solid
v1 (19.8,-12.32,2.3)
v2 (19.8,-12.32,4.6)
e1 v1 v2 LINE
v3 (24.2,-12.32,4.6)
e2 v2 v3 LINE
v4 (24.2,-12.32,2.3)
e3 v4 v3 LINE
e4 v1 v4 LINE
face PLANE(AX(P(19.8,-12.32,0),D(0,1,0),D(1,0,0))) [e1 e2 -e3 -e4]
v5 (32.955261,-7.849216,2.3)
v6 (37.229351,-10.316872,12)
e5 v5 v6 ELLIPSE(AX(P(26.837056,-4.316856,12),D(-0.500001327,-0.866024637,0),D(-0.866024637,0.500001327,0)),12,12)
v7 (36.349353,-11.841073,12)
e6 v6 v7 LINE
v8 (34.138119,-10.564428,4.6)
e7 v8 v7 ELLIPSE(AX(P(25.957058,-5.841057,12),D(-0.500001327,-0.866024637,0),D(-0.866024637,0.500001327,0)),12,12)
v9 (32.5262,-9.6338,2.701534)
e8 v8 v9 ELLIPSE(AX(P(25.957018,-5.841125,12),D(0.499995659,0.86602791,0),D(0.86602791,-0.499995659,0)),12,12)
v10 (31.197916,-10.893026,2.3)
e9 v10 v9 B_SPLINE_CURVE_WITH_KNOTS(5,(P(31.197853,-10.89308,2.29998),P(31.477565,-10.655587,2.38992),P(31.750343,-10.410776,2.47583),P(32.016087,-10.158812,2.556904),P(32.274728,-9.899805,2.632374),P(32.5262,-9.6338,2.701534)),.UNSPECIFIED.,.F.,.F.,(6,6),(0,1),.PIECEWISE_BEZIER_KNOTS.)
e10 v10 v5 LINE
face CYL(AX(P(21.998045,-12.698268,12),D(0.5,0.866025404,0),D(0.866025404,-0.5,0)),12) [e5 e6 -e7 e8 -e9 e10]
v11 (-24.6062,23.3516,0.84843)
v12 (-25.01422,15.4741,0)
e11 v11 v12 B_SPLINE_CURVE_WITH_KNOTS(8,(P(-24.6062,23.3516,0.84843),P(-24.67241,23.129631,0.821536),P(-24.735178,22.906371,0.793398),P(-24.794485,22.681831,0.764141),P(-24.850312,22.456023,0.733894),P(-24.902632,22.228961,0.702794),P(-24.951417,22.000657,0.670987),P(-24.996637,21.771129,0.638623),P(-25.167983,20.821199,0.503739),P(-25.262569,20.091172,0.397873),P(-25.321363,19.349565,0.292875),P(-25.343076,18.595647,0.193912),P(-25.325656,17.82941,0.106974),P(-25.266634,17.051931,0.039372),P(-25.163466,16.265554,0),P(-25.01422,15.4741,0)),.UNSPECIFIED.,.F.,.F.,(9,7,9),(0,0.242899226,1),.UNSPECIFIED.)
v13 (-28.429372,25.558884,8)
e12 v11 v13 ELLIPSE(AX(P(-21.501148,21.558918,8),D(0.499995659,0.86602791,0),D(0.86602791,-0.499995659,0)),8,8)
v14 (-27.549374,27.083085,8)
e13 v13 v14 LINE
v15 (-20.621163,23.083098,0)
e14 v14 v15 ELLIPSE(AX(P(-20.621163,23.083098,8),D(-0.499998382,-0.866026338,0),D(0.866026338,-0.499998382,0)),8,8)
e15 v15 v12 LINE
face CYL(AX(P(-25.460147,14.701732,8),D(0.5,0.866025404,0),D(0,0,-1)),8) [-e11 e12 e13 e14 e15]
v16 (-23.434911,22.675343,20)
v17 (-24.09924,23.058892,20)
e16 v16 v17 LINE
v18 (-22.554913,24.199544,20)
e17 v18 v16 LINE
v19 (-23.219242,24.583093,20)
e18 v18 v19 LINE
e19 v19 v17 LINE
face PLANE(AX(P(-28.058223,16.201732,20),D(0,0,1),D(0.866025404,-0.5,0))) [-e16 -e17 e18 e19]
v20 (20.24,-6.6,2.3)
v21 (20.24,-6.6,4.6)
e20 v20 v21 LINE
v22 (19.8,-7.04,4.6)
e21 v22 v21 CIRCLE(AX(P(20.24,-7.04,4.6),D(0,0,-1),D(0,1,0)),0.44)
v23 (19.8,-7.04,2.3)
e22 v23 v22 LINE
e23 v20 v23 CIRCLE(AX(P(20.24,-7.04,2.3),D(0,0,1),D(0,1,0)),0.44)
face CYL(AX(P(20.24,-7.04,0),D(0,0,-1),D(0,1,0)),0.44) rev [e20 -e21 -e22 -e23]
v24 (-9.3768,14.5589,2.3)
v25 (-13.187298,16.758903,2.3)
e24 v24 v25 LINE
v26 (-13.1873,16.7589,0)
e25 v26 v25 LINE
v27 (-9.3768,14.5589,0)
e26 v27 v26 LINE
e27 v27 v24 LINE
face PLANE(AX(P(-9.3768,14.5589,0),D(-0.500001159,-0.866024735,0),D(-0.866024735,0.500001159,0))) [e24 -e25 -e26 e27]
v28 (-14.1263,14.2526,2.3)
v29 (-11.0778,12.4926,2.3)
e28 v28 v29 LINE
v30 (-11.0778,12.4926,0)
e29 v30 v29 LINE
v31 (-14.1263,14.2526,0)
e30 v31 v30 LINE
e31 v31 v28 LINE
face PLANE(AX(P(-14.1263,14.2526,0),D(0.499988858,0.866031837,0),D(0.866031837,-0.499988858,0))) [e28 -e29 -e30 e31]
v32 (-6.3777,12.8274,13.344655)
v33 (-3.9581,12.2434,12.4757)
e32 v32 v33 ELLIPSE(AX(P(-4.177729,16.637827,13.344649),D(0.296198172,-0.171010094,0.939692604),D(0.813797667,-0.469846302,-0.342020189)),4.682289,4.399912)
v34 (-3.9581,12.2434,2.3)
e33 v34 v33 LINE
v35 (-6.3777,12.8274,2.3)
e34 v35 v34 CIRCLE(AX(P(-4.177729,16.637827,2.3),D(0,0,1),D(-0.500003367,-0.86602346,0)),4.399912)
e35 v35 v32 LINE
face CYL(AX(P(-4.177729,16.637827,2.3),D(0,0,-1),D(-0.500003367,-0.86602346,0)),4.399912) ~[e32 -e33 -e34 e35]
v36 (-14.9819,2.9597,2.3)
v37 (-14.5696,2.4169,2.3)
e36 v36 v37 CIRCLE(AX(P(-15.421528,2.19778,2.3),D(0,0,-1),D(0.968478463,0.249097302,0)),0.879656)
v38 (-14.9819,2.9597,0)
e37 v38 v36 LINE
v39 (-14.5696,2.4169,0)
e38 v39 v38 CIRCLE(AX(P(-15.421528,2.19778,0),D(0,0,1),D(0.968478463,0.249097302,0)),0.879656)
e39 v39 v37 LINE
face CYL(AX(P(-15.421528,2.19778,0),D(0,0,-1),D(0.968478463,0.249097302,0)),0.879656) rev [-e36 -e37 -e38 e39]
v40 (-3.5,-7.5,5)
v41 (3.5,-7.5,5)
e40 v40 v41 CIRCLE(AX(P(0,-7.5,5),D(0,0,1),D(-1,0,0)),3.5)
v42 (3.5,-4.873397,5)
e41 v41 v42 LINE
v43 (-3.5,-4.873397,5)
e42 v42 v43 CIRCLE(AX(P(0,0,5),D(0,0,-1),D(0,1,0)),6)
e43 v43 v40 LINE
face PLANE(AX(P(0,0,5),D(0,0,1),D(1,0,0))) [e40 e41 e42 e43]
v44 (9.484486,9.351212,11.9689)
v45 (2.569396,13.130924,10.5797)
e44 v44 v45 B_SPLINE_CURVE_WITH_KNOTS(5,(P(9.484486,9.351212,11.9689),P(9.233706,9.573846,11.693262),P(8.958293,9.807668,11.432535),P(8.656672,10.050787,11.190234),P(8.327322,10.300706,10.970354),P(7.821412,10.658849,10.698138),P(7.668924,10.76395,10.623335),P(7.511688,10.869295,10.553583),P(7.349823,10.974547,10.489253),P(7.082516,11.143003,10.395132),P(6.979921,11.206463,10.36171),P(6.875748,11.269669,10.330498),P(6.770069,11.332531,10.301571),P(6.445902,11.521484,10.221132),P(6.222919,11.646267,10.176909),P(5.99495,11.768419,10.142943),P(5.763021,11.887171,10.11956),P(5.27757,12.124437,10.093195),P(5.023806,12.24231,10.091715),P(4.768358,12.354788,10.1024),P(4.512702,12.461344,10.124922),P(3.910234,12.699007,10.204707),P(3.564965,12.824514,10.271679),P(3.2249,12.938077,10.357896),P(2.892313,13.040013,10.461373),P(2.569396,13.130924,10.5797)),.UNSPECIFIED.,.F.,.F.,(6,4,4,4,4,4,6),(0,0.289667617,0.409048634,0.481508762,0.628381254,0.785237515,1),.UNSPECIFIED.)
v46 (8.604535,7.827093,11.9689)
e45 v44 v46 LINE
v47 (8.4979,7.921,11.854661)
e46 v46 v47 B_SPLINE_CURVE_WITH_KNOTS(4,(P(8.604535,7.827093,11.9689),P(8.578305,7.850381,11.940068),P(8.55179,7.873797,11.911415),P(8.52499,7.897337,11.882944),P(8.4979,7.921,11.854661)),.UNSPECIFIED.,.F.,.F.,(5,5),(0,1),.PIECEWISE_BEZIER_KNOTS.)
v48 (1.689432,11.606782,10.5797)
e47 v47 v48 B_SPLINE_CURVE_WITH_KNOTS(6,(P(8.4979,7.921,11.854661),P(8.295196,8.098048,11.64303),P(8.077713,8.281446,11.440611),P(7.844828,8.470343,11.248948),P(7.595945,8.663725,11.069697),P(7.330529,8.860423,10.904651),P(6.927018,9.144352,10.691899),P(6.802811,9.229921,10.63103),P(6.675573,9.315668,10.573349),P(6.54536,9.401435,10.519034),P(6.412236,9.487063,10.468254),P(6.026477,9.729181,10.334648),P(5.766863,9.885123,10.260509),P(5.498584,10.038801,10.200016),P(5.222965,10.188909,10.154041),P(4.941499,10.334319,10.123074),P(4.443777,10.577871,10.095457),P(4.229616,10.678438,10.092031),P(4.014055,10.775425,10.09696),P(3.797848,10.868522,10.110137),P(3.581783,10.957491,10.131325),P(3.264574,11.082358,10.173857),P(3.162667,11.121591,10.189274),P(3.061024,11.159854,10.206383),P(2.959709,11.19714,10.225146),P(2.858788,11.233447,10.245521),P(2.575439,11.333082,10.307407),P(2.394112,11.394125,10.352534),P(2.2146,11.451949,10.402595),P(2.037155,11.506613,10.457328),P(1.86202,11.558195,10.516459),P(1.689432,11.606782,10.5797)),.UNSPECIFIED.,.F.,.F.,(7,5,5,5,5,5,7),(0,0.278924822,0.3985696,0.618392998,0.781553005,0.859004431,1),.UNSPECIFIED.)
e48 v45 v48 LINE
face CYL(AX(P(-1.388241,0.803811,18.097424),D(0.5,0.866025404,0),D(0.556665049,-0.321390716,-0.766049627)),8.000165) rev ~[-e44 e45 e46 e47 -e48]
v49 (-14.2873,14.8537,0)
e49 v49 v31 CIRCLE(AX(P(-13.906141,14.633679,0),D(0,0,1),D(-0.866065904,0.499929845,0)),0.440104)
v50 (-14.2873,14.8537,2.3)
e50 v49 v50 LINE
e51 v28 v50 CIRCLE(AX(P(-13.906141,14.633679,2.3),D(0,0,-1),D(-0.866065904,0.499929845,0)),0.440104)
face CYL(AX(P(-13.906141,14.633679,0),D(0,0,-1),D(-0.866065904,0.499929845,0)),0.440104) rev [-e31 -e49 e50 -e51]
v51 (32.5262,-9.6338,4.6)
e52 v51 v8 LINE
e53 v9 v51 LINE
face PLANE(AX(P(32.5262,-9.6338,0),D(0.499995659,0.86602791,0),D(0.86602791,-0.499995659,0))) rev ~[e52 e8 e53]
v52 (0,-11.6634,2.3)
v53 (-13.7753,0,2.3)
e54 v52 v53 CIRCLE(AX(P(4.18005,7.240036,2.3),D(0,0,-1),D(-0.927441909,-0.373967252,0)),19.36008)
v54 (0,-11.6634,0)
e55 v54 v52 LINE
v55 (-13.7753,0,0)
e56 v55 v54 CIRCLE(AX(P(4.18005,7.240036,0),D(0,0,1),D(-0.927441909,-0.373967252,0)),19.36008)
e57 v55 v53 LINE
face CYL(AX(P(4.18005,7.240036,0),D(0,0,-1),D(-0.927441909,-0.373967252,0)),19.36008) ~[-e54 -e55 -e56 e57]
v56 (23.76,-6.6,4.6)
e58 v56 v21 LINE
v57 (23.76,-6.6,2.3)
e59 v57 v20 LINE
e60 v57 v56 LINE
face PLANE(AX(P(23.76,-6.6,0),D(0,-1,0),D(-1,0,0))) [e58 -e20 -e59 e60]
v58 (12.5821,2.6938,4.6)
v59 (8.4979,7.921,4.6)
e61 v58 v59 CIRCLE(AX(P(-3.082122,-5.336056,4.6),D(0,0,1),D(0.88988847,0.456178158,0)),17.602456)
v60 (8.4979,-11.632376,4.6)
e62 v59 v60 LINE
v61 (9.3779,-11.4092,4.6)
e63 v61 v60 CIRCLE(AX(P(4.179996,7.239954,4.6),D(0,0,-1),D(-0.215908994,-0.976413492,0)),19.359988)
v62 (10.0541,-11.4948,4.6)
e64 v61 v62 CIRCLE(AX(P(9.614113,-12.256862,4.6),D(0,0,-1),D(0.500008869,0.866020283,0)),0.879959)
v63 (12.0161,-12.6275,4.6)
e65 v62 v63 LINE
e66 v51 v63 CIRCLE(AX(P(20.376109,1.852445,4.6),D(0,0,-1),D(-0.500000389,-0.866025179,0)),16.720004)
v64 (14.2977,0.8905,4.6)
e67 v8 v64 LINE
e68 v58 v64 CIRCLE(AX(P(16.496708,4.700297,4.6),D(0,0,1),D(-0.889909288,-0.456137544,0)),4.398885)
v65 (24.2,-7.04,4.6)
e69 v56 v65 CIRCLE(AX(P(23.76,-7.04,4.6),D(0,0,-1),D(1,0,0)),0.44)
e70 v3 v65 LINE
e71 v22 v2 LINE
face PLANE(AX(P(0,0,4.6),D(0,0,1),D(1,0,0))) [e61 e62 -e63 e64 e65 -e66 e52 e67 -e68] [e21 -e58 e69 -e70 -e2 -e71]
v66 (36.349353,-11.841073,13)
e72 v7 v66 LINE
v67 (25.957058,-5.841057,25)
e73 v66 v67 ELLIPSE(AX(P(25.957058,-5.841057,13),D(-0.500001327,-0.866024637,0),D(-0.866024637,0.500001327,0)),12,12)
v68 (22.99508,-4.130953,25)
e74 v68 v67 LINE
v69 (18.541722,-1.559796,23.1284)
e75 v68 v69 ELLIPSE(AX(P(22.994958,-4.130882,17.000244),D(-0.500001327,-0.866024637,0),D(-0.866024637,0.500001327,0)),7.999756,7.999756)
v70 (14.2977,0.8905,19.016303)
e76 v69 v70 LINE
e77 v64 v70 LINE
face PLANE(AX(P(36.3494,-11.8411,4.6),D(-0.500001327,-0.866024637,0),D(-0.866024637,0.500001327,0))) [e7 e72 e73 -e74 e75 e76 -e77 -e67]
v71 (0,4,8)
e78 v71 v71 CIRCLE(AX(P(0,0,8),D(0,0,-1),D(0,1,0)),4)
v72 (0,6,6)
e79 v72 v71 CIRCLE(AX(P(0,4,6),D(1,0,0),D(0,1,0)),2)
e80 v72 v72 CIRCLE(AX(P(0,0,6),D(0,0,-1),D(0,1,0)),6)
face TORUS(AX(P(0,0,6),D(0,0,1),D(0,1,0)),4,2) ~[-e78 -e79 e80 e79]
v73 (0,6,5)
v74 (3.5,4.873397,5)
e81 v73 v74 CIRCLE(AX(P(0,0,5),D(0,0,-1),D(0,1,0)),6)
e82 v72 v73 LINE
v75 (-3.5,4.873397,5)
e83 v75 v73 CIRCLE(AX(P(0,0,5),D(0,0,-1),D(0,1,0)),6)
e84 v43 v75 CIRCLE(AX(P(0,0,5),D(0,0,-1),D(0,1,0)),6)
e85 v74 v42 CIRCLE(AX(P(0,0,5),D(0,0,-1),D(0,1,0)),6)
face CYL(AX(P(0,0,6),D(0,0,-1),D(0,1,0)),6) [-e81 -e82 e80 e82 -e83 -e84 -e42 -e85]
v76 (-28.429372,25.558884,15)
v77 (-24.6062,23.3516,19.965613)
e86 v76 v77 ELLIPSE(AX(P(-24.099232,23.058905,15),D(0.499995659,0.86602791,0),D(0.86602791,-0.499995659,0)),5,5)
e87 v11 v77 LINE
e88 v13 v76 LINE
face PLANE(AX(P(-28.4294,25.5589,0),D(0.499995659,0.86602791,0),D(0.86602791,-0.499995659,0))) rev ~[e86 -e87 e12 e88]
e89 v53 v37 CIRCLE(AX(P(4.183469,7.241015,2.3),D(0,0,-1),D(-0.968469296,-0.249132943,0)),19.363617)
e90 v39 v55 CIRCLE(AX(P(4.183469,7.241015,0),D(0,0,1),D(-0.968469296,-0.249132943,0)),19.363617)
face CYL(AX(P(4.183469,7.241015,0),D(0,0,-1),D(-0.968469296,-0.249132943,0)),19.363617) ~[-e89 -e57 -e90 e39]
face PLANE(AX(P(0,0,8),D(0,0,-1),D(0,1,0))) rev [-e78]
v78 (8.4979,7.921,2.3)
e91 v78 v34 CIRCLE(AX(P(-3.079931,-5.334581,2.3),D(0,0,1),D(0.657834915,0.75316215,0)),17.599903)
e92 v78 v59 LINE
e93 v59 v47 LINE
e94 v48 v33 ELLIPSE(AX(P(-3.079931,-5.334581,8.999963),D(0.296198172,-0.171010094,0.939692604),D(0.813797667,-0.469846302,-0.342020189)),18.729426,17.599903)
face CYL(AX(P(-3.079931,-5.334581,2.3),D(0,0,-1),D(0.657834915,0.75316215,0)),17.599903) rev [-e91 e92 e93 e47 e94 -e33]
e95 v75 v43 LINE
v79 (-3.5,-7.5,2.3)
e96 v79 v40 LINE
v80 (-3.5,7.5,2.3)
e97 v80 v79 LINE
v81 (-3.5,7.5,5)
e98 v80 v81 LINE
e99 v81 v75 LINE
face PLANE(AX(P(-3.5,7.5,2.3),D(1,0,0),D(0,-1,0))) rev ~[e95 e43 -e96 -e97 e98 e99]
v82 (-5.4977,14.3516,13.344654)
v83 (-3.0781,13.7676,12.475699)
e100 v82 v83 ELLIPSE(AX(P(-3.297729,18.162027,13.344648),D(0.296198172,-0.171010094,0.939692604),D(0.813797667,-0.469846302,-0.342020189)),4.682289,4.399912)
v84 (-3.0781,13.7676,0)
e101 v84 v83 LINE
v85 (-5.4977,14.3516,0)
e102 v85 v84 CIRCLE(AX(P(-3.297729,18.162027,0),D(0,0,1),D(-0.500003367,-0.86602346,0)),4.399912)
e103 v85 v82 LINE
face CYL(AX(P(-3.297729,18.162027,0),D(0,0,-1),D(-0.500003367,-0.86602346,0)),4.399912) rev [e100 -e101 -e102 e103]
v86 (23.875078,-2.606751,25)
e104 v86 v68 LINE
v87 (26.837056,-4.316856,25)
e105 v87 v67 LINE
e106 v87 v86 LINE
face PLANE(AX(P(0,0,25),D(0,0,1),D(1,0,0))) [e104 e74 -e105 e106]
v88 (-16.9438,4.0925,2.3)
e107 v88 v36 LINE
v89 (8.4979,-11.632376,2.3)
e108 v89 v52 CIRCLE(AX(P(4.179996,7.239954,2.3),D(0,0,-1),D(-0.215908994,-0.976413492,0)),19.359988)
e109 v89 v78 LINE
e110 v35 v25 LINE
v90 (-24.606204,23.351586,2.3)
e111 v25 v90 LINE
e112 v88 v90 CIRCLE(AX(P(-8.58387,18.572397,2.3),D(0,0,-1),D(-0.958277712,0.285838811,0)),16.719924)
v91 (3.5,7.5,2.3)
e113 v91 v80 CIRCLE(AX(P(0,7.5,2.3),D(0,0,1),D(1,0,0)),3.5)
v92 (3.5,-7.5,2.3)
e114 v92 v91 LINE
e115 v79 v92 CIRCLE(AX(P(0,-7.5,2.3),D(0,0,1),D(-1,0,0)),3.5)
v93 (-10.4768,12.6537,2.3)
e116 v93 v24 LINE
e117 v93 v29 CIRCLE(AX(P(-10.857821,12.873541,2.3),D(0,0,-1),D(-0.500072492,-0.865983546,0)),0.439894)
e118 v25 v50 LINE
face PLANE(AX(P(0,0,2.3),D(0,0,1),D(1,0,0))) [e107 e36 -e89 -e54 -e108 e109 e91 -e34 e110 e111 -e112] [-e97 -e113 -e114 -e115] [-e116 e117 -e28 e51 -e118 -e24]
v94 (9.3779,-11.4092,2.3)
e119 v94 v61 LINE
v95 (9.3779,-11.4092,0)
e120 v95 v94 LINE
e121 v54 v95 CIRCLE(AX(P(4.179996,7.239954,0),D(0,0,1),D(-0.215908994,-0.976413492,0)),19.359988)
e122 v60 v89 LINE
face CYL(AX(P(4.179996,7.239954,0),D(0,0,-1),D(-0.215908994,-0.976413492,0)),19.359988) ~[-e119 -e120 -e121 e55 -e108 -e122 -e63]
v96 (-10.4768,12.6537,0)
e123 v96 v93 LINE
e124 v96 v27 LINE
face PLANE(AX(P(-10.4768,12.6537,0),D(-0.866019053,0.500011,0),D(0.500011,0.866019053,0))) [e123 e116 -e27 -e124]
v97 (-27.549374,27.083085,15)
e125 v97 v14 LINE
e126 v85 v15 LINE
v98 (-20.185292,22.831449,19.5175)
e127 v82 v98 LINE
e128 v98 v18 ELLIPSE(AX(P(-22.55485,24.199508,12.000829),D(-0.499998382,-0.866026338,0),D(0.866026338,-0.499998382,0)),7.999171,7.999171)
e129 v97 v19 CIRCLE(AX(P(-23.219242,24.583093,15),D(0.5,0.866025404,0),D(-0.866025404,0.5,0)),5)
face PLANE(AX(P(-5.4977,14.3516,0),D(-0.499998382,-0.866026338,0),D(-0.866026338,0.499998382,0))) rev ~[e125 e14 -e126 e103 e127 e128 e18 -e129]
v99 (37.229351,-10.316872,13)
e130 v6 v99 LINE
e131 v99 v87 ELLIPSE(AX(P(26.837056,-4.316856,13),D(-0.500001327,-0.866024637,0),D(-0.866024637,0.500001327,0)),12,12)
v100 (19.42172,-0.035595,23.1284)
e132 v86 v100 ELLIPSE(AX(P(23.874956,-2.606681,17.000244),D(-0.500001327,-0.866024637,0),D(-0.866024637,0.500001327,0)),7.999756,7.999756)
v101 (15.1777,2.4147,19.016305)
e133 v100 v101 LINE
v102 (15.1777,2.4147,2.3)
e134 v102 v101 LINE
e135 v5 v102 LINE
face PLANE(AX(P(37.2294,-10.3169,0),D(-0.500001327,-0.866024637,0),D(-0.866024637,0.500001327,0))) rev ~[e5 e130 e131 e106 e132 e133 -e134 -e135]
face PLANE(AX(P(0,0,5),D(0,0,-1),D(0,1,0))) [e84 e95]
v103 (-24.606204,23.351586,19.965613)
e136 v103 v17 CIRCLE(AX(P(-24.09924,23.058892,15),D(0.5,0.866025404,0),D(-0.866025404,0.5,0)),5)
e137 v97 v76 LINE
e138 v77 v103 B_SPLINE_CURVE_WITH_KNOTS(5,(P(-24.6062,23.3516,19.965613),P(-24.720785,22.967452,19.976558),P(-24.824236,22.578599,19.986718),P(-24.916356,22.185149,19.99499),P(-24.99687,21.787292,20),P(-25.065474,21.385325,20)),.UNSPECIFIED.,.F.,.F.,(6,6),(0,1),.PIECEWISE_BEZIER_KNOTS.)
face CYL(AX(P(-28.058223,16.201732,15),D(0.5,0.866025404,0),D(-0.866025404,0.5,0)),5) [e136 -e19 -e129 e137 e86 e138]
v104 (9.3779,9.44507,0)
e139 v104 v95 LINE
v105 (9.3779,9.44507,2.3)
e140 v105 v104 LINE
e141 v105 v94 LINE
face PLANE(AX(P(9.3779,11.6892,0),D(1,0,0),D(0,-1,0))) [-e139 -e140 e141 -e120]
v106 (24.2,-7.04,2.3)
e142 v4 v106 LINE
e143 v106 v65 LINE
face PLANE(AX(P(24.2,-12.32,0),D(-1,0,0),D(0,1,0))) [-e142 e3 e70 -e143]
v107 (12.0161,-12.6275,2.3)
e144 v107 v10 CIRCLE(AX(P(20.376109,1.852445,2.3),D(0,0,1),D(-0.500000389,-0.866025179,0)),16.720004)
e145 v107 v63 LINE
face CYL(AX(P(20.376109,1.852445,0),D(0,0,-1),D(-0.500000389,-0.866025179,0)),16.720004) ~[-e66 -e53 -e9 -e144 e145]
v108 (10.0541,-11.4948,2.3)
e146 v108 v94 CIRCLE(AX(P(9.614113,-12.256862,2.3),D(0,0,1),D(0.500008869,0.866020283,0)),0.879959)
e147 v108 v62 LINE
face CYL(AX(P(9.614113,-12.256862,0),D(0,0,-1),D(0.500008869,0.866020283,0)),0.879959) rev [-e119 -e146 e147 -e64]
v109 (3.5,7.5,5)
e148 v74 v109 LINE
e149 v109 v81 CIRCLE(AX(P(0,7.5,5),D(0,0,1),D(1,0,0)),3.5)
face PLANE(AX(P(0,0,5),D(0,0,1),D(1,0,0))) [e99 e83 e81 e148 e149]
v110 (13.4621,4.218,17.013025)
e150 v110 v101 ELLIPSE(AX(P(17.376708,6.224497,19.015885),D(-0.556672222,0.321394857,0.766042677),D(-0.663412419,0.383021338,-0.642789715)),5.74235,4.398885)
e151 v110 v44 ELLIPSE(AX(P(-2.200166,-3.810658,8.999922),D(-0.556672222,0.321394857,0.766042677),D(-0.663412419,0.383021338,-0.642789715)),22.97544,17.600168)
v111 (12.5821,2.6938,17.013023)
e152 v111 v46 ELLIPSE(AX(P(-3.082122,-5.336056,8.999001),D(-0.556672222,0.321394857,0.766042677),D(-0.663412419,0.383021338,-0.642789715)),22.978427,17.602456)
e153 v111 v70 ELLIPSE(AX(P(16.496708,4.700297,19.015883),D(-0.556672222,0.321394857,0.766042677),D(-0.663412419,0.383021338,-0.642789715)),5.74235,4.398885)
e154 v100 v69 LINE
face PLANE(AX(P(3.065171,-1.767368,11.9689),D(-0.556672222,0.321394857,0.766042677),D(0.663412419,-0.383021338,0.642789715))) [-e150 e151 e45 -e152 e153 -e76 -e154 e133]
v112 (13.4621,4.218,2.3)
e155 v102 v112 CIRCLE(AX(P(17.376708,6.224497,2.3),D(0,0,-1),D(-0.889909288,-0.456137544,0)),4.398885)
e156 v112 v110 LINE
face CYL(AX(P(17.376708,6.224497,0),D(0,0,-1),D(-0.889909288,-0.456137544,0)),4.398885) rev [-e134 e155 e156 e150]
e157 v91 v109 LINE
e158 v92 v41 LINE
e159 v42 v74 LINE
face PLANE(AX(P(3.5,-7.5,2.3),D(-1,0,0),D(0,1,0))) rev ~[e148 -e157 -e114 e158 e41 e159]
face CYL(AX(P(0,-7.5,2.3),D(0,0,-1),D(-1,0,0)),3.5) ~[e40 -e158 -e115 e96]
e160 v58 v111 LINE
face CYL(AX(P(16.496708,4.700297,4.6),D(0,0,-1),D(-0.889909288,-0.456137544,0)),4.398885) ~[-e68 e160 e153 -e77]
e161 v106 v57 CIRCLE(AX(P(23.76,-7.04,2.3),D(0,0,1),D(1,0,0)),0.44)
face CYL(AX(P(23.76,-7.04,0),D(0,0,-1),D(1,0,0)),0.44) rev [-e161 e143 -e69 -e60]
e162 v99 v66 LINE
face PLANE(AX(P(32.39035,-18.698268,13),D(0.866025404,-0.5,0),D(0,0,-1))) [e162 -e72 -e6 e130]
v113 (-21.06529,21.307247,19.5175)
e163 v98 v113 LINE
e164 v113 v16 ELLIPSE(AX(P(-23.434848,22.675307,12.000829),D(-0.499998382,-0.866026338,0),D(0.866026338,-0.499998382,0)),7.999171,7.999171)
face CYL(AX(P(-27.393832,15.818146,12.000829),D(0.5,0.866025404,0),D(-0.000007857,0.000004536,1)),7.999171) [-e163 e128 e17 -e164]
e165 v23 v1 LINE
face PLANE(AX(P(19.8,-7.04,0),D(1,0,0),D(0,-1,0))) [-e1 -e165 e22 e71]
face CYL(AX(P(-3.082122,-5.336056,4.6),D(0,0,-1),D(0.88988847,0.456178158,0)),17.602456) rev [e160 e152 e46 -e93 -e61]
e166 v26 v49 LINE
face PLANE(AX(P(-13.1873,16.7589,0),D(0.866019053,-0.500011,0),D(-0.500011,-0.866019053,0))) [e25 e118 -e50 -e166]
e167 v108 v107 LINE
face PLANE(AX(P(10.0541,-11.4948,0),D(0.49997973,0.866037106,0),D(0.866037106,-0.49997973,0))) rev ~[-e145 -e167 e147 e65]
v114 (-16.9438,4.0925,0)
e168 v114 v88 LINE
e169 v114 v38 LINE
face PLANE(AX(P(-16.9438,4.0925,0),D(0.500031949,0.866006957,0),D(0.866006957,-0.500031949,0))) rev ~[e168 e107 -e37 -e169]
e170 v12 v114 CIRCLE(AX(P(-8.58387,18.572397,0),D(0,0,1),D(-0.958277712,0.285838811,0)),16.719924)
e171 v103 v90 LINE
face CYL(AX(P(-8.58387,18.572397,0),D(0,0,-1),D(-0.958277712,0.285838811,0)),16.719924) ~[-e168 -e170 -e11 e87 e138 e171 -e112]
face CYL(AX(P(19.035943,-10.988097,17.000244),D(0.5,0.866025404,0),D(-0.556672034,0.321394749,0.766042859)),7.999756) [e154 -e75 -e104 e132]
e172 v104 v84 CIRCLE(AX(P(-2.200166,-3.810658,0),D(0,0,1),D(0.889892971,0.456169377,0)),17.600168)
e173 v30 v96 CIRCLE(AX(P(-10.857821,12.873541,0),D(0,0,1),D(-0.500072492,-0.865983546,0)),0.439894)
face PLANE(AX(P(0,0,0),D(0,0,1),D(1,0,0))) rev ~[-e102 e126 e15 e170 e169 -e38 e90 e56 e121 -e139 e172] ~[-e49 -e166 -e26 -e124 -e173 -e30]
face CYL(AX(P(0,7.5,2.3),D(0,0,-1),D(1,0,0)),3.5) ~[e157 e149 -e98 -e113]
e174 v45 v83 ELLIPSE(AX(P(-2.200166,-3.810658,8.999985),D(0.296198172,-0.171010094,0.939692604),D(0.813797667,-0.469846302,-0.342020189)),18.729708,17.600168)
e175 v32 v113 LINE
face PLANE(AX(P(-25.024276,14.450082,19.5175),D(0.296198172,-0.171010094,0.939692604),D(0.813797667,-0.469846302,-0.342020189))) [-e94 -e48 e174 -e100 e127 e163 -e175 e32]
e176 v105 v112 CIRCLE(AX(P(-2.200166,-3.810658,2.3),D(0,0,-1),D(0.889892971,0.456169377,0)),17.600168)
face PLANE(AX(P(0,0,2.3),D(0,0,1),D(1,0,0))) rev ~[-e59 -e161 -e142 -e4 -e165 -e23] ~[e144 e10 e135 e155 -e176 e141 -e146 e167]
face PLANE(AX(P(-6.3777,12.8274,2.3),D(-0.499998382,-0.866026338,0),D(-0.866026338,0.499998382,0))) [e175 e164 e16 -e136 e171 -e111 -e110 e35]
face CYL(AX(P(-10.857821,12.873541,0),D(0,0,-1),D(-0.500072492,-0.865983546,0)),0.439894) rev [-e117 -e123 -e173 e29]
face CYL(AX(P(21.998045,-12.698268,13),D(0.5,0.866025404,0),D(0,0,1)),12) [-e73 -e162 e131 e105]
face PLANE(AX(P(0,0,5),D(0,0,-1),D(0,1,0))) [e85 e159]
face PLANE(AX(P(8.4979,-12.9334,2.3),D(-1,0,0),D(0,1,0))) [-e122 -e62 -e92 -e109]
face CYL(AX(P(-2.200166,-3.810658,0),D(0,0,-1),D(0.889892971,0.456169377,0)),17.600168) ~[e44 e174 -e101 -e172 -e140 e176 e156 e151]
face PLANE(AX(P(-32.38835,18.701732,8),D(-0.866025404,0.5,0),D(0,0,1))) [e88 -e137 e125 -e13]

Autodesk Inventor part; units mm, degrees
sketch "Sketch_1" plane through (0, 0, 0) normal (0, 0, 1) x (1, 0, 0)
  line L0 (-28.4294, 25.5589) -> (-24.6062, 23.3516)
  arc A0 (-24.6062, 23.3516) -> (-16.9438, 4.0925) centre (-8.5838, 18.5724) ccw
  line L1 (-16.9438, 4.0925) -> (-14.9819, 2.9597)
  arc A1 (-14.5696, 2.4169) -> (-14.9819, 2.9597) centre (-15.4219, 2.1976) ccw
  arc A2 (-14.5696, 2.4169) -> (-13.7753, 0) centre (4.18, 7.24) ccw
  arc A3 (-13.7753, 0) -> (0, -11.6634) centre (4.18, 7.24) ccw
  arc A4 (0, -11.6634) -> (9.3779, -11.4092) centre (4.18, 7.24) ccw
  arc A5 (10.0541, -11.4948) -> (9.3779, -11.4092) centre (9.6141, -12.2569) ccw
  line L2 (10.0541, -11.4948) -> (12.0161, -12.6275)
  arc A6 (12.0161, -12.6275) -> (32.5262, -9.6338) centre (20.3761, 1.8524) ccw
  line L3 (32.5262, -9.6338) -> (36.3494, -11.8411)
  line L4 (36.3494, -11.8411) -> (37.2294, -10.3169)
  line L5 (37.2294, -10.3169) -> (15.1777, 2.4147)
  arc A7 (13.4621, 4.218) -> (15.1777, 2.4147) centre (17.3777, 6.2252) ccw
  arc A8 (13.4621, 4.218) -> (-3.0781, 13.7676) centre (-2.2, -3.8105) ccw
  arc A9 (-5.4977, 14.3516) -> (-3.0781, 13.7676) centre (-3.2977, 18.1621) ccw
  line L6 (-5.4977, 14.3516) -> (-27.5494, 27.0831)
  line L7 (-27.5494, 27.0831) -> (-28.4294, 25.5589)
  line L8 (19.8, -12.32) -> (24.2, -12.32)
  line L9 (24.2, -12.32) -> (24.2, -7.04)
  arc A10 (24.2, -7.04) -> (23.76, -6.6) centre (23.76, -7.04) ccw
  line L10 (23.76, -6.6) -> (20.24, -6.6)
  arc A11 (20.24, -6.6) -> (19.8, -7.04) centre (20.24, -7.04) ccw
  line L11 (19.8, -7.04) -> (19.8, -12.32)
  arc A12 (-14.2873, 14.8537) -> (-14.1263, 14.2526) centre (-13.9063, 14.6337) ccw
  line L12 (-14.1263, 14.2526) -> (-11.0778, 12.4926)
  arc A13 (-11.0778, 12.4926) -> (-10.4768, 12.6537) centre (-10.8578, 12.8737) ccw
  line L13 (-10.4768, 12.6537) -> (-9.3768, 14.5589)
  line L14 (-9.3768, 14.5589) -> (-13.1873, 16.7589)
  line L15 (-13.1873, 16.7589) -> (-14.2873, 14.8537)
extrude "Extrusion1" add sketch "Sketch_1" along normal blind 25
sketch "Sketch_2" plane through (0, 0, 2.3) normal (0, 0, 1) x (1, 0, 0)
  line L0 (-29.3094, 24.0347) -> (-25.4862, 21.8274)
  arc A0 (-25.4862, 21.8274) -> (-17.8238, 2.5683) centre (-9.4638, 17.0482) ccw
  line L1 (-17.8238, 2.5683) -> (-15.8619, 1.4355)
  arc A1 (-15.4496, 0.8927) -> (-15.8619, 1.4355) centre (-16.3019, 0.6734) ccw
  arc A2 (-15.4496, 0.8927) -> (-14.6553, -1.5242) centre (3.3, 5.7158) ccw
  arc A3 (-14.6553, -1.5242) -> (-0.88, -13.1876) centre (3.3, 5.7158) ccw
  arc A4 (-0.88, -13.1876) -> (8.4979, -12.9334) centre (3.3, 5.7158) ccw
  line L2 (8.4979, -12.9334) -> (8.4979, 7.921)
  arc A5 (8.4979, 7.921) -> (-3.9581, 12.2434) centre (-3.08, -5.3347) ccw
  arc A6 (-6.3777, 12.8274) -> (-3.9581, 12.2434) centre (-4.1777, 16.6379) ccw
  line L3 (-6.3777, 12.8274) -> (-28.4294, 25.5589)
  line L4 (-28.4294, 25.5589) -> (-29.3094, 24.0347)
extrude "Extrusion2" cut sketch "Sketch_2" along normal blind 50
sketch "Sketch_8" plane through (0, 0, 4.6) normal (0, 0, 1) x (1, 0, 0)
  line L0 (8.4979, 7.921) -> (8.4979, -12.9334)
  arc A0 (9.1741, -13.019) -> (8.4979, -12.9334) centre (8.7341, -13.7811) ccw
  line L1 (9.1741, -13.019) -> (11.1361, -14.1517)
  arc A1 (11.1361, -14.1517) -> (31.6462, -11.158) centre (19.4961, 0.3282) ccw
  line L2 (31.6462, -11.158) -> (35.4694, -13.3653)
  line L3 (35.4694, -13.3653) -> (36.3494, -11.8411)
  line L4 (36.3494, -11.8411) -> (14.2977, 0.8905)
  arc A2 (12.5821, 2.6938) -> (14.2977, 0.8905) centre (16.4977, 4.701) ccw
  arc A3 (12.5821, 2.6938) -> (8.4979, 7.921) centre (-3.08, -5.3347) ccw
extrude "Extrusion3" cut sketch "Sketch_8" along normal blind 50
sketch "Sketch_9" plane through (0, 0, 0) normal (0, 0, 1) x (1, 0, 0)
  line L0 (9.3779, 11.6892) -> (9.3779, -11.4092)
  arc A0 (10.0541, -11.4948) -> (9.3779, -11.4092) centre (9.6141, -12.2569) ccw
  line L1 (10.0541, -11.4948) -> (12.0161, -12.6275)
  arc A1 (12.0161, -12.6275) -> (32.5262, -9.6338) centre (20.3761, 1.8524) ccw
  line L2 (32.5262, -9.6338) -> (36.3494, -11.8411)
  line L3 (36.3494, -11.8411) -> (38.1094, -8.7927)
  line L4 (38.1094, -8.7927) -> (16.0577, 3.9389)
  arc A2 (14.3421, 5.7423) -> (16.0577, 3.9389) centre (18.2577, 7.7494) ccw
  arc A3 (14.3421, 5.7423) -> (9.3779, 11.6892) centre (-1.32, -2.2863) ccw
  line L5 (19.8, -12.32) -> (24.2, -12.32)
  line L6 (24.2, -12.32) -> (24.2, -7.04)
  arc A4 (24.2, -7.04) -> (23.76, -6.6) centre (23.76, -7.04) ccw
  line L7 (23.76, -6.6) -> (20.24, -6.6)
  arc A5 (20.24, -6.6) -> (19.8, -7.04) centre (20.24, -7.04) ccw
  line L8 (19.8, -7.04) -> (19.8, -12.32)
extrude "Extrusion4" cut sketch "Sketch_9" along normal blind 2.3
sketch "Sketch_3" plane through (0, 0, 0) normal (0.5, 0.866, 0) x (0.866, -0.5, 0)
  line L0 (-80, -90) -> (80, -90)
  line L1 (80, -90) -> (80, 10)
  line L2 (80, 10) -> (-80, 10)
  line L3 (-80, 10) -> (-80, -90)
  line L4 (-37.4, -8) -> (-37.4, -15)
  arc A0 (-37.4, -15) -> (-32.4, -20) centre (-32.4, -15) ccw
  line L5 (-32.4, -20) -> (-31.6329, -20)
  arc A1 (-31.6329, -20) -> (-28.8967, -19.5175) centre (-31.6329, -12) ccw
  line L6 (-28.8967, -19.5175) -> (-4.3403, -10.5797)
  arc A2 (3.5382, -11.9689) -> (-4.3403, -10.5797) centre (-1.6041, -18.0973) ccw
  line L7 (3.5382, -11.9689) -> (16.8375, -23.1284)
  arc A3 (16.8375, -23.1284) -> (21.9798, -25) centre (21.9798, -17) ccw
  line L8 (21.9798, -25) -> (25.4, -25)
  arc A4 (25.4, -25) -> (37.4, -13) centre (25.4, -13) ccw
  line L9 (37.4, -13) -> (37.4, -12)
  arc A5 (37.4, -12) -> (25.4, 0) centre (25.4, -12) ccw
  line L10 (25.4, 0) -> (-29.4, 0)
  arc A6 (-29.4, 0) -> (-37.4, -8) centre (-29.4, -8) ccw
extrude "Extrusion5" cut sketch "Sketch_3" along normal mid plane 100
sketch "Sketch_7" plane through (0, 0, 0) normal (1, 0, 0) x (0, 1, 0)
  line L0 (0, 0) -> (0, 8)
  line L1 (0, 8) -> (4, 8)
  arc A0 (6, 6) -> (4, 8) centre (4, 6) ccw
  line L2 (6, 6) -> (6, 5)
  line L3 (6, 5) -> (0, 5)
  line L4 (0, 5) -> (0, 8)
sketch "Sketch_4" plane through (0, 0, 2.3) normal (0, 0, 1) x (1, 0, 0)
  arc A0 (-3.5, -7.5) -> (3.5, -7.5) centre (0, -7.5) ccw
  line L0 (3.5, -7.5) -> (3.5, 7.5)
  arc A1 (3.5, 7.5) -> (-3.5, 7.5) centre (0, 7.5) ccw
  line L1 (-3.5, 7.5) -> (-3.5, -7.5)
extrude "Extrusion6" add sketch "Sketch_4" along normal blind 2.7
revolve "Revolution1" add sketch "Sketch_7" angle 360 about axis through (0, 0, 0) along (0, 0, -1)
ref_plane "stopper_to_body_XY" through (0, 0, 0) normal (0, 0, 1) x (1, 0, 0)
ref_plane "stopper_to_body_YZ" through (0, 0, 0) normal (1, 0, 0) x (0, 1, 0)
ref_plane "stopper_to_body_ZX" through (0, 0, 0) normal (0, 1, 0) x (0, 0, 1)
properties part number "STOPPER-HSMCS50"
